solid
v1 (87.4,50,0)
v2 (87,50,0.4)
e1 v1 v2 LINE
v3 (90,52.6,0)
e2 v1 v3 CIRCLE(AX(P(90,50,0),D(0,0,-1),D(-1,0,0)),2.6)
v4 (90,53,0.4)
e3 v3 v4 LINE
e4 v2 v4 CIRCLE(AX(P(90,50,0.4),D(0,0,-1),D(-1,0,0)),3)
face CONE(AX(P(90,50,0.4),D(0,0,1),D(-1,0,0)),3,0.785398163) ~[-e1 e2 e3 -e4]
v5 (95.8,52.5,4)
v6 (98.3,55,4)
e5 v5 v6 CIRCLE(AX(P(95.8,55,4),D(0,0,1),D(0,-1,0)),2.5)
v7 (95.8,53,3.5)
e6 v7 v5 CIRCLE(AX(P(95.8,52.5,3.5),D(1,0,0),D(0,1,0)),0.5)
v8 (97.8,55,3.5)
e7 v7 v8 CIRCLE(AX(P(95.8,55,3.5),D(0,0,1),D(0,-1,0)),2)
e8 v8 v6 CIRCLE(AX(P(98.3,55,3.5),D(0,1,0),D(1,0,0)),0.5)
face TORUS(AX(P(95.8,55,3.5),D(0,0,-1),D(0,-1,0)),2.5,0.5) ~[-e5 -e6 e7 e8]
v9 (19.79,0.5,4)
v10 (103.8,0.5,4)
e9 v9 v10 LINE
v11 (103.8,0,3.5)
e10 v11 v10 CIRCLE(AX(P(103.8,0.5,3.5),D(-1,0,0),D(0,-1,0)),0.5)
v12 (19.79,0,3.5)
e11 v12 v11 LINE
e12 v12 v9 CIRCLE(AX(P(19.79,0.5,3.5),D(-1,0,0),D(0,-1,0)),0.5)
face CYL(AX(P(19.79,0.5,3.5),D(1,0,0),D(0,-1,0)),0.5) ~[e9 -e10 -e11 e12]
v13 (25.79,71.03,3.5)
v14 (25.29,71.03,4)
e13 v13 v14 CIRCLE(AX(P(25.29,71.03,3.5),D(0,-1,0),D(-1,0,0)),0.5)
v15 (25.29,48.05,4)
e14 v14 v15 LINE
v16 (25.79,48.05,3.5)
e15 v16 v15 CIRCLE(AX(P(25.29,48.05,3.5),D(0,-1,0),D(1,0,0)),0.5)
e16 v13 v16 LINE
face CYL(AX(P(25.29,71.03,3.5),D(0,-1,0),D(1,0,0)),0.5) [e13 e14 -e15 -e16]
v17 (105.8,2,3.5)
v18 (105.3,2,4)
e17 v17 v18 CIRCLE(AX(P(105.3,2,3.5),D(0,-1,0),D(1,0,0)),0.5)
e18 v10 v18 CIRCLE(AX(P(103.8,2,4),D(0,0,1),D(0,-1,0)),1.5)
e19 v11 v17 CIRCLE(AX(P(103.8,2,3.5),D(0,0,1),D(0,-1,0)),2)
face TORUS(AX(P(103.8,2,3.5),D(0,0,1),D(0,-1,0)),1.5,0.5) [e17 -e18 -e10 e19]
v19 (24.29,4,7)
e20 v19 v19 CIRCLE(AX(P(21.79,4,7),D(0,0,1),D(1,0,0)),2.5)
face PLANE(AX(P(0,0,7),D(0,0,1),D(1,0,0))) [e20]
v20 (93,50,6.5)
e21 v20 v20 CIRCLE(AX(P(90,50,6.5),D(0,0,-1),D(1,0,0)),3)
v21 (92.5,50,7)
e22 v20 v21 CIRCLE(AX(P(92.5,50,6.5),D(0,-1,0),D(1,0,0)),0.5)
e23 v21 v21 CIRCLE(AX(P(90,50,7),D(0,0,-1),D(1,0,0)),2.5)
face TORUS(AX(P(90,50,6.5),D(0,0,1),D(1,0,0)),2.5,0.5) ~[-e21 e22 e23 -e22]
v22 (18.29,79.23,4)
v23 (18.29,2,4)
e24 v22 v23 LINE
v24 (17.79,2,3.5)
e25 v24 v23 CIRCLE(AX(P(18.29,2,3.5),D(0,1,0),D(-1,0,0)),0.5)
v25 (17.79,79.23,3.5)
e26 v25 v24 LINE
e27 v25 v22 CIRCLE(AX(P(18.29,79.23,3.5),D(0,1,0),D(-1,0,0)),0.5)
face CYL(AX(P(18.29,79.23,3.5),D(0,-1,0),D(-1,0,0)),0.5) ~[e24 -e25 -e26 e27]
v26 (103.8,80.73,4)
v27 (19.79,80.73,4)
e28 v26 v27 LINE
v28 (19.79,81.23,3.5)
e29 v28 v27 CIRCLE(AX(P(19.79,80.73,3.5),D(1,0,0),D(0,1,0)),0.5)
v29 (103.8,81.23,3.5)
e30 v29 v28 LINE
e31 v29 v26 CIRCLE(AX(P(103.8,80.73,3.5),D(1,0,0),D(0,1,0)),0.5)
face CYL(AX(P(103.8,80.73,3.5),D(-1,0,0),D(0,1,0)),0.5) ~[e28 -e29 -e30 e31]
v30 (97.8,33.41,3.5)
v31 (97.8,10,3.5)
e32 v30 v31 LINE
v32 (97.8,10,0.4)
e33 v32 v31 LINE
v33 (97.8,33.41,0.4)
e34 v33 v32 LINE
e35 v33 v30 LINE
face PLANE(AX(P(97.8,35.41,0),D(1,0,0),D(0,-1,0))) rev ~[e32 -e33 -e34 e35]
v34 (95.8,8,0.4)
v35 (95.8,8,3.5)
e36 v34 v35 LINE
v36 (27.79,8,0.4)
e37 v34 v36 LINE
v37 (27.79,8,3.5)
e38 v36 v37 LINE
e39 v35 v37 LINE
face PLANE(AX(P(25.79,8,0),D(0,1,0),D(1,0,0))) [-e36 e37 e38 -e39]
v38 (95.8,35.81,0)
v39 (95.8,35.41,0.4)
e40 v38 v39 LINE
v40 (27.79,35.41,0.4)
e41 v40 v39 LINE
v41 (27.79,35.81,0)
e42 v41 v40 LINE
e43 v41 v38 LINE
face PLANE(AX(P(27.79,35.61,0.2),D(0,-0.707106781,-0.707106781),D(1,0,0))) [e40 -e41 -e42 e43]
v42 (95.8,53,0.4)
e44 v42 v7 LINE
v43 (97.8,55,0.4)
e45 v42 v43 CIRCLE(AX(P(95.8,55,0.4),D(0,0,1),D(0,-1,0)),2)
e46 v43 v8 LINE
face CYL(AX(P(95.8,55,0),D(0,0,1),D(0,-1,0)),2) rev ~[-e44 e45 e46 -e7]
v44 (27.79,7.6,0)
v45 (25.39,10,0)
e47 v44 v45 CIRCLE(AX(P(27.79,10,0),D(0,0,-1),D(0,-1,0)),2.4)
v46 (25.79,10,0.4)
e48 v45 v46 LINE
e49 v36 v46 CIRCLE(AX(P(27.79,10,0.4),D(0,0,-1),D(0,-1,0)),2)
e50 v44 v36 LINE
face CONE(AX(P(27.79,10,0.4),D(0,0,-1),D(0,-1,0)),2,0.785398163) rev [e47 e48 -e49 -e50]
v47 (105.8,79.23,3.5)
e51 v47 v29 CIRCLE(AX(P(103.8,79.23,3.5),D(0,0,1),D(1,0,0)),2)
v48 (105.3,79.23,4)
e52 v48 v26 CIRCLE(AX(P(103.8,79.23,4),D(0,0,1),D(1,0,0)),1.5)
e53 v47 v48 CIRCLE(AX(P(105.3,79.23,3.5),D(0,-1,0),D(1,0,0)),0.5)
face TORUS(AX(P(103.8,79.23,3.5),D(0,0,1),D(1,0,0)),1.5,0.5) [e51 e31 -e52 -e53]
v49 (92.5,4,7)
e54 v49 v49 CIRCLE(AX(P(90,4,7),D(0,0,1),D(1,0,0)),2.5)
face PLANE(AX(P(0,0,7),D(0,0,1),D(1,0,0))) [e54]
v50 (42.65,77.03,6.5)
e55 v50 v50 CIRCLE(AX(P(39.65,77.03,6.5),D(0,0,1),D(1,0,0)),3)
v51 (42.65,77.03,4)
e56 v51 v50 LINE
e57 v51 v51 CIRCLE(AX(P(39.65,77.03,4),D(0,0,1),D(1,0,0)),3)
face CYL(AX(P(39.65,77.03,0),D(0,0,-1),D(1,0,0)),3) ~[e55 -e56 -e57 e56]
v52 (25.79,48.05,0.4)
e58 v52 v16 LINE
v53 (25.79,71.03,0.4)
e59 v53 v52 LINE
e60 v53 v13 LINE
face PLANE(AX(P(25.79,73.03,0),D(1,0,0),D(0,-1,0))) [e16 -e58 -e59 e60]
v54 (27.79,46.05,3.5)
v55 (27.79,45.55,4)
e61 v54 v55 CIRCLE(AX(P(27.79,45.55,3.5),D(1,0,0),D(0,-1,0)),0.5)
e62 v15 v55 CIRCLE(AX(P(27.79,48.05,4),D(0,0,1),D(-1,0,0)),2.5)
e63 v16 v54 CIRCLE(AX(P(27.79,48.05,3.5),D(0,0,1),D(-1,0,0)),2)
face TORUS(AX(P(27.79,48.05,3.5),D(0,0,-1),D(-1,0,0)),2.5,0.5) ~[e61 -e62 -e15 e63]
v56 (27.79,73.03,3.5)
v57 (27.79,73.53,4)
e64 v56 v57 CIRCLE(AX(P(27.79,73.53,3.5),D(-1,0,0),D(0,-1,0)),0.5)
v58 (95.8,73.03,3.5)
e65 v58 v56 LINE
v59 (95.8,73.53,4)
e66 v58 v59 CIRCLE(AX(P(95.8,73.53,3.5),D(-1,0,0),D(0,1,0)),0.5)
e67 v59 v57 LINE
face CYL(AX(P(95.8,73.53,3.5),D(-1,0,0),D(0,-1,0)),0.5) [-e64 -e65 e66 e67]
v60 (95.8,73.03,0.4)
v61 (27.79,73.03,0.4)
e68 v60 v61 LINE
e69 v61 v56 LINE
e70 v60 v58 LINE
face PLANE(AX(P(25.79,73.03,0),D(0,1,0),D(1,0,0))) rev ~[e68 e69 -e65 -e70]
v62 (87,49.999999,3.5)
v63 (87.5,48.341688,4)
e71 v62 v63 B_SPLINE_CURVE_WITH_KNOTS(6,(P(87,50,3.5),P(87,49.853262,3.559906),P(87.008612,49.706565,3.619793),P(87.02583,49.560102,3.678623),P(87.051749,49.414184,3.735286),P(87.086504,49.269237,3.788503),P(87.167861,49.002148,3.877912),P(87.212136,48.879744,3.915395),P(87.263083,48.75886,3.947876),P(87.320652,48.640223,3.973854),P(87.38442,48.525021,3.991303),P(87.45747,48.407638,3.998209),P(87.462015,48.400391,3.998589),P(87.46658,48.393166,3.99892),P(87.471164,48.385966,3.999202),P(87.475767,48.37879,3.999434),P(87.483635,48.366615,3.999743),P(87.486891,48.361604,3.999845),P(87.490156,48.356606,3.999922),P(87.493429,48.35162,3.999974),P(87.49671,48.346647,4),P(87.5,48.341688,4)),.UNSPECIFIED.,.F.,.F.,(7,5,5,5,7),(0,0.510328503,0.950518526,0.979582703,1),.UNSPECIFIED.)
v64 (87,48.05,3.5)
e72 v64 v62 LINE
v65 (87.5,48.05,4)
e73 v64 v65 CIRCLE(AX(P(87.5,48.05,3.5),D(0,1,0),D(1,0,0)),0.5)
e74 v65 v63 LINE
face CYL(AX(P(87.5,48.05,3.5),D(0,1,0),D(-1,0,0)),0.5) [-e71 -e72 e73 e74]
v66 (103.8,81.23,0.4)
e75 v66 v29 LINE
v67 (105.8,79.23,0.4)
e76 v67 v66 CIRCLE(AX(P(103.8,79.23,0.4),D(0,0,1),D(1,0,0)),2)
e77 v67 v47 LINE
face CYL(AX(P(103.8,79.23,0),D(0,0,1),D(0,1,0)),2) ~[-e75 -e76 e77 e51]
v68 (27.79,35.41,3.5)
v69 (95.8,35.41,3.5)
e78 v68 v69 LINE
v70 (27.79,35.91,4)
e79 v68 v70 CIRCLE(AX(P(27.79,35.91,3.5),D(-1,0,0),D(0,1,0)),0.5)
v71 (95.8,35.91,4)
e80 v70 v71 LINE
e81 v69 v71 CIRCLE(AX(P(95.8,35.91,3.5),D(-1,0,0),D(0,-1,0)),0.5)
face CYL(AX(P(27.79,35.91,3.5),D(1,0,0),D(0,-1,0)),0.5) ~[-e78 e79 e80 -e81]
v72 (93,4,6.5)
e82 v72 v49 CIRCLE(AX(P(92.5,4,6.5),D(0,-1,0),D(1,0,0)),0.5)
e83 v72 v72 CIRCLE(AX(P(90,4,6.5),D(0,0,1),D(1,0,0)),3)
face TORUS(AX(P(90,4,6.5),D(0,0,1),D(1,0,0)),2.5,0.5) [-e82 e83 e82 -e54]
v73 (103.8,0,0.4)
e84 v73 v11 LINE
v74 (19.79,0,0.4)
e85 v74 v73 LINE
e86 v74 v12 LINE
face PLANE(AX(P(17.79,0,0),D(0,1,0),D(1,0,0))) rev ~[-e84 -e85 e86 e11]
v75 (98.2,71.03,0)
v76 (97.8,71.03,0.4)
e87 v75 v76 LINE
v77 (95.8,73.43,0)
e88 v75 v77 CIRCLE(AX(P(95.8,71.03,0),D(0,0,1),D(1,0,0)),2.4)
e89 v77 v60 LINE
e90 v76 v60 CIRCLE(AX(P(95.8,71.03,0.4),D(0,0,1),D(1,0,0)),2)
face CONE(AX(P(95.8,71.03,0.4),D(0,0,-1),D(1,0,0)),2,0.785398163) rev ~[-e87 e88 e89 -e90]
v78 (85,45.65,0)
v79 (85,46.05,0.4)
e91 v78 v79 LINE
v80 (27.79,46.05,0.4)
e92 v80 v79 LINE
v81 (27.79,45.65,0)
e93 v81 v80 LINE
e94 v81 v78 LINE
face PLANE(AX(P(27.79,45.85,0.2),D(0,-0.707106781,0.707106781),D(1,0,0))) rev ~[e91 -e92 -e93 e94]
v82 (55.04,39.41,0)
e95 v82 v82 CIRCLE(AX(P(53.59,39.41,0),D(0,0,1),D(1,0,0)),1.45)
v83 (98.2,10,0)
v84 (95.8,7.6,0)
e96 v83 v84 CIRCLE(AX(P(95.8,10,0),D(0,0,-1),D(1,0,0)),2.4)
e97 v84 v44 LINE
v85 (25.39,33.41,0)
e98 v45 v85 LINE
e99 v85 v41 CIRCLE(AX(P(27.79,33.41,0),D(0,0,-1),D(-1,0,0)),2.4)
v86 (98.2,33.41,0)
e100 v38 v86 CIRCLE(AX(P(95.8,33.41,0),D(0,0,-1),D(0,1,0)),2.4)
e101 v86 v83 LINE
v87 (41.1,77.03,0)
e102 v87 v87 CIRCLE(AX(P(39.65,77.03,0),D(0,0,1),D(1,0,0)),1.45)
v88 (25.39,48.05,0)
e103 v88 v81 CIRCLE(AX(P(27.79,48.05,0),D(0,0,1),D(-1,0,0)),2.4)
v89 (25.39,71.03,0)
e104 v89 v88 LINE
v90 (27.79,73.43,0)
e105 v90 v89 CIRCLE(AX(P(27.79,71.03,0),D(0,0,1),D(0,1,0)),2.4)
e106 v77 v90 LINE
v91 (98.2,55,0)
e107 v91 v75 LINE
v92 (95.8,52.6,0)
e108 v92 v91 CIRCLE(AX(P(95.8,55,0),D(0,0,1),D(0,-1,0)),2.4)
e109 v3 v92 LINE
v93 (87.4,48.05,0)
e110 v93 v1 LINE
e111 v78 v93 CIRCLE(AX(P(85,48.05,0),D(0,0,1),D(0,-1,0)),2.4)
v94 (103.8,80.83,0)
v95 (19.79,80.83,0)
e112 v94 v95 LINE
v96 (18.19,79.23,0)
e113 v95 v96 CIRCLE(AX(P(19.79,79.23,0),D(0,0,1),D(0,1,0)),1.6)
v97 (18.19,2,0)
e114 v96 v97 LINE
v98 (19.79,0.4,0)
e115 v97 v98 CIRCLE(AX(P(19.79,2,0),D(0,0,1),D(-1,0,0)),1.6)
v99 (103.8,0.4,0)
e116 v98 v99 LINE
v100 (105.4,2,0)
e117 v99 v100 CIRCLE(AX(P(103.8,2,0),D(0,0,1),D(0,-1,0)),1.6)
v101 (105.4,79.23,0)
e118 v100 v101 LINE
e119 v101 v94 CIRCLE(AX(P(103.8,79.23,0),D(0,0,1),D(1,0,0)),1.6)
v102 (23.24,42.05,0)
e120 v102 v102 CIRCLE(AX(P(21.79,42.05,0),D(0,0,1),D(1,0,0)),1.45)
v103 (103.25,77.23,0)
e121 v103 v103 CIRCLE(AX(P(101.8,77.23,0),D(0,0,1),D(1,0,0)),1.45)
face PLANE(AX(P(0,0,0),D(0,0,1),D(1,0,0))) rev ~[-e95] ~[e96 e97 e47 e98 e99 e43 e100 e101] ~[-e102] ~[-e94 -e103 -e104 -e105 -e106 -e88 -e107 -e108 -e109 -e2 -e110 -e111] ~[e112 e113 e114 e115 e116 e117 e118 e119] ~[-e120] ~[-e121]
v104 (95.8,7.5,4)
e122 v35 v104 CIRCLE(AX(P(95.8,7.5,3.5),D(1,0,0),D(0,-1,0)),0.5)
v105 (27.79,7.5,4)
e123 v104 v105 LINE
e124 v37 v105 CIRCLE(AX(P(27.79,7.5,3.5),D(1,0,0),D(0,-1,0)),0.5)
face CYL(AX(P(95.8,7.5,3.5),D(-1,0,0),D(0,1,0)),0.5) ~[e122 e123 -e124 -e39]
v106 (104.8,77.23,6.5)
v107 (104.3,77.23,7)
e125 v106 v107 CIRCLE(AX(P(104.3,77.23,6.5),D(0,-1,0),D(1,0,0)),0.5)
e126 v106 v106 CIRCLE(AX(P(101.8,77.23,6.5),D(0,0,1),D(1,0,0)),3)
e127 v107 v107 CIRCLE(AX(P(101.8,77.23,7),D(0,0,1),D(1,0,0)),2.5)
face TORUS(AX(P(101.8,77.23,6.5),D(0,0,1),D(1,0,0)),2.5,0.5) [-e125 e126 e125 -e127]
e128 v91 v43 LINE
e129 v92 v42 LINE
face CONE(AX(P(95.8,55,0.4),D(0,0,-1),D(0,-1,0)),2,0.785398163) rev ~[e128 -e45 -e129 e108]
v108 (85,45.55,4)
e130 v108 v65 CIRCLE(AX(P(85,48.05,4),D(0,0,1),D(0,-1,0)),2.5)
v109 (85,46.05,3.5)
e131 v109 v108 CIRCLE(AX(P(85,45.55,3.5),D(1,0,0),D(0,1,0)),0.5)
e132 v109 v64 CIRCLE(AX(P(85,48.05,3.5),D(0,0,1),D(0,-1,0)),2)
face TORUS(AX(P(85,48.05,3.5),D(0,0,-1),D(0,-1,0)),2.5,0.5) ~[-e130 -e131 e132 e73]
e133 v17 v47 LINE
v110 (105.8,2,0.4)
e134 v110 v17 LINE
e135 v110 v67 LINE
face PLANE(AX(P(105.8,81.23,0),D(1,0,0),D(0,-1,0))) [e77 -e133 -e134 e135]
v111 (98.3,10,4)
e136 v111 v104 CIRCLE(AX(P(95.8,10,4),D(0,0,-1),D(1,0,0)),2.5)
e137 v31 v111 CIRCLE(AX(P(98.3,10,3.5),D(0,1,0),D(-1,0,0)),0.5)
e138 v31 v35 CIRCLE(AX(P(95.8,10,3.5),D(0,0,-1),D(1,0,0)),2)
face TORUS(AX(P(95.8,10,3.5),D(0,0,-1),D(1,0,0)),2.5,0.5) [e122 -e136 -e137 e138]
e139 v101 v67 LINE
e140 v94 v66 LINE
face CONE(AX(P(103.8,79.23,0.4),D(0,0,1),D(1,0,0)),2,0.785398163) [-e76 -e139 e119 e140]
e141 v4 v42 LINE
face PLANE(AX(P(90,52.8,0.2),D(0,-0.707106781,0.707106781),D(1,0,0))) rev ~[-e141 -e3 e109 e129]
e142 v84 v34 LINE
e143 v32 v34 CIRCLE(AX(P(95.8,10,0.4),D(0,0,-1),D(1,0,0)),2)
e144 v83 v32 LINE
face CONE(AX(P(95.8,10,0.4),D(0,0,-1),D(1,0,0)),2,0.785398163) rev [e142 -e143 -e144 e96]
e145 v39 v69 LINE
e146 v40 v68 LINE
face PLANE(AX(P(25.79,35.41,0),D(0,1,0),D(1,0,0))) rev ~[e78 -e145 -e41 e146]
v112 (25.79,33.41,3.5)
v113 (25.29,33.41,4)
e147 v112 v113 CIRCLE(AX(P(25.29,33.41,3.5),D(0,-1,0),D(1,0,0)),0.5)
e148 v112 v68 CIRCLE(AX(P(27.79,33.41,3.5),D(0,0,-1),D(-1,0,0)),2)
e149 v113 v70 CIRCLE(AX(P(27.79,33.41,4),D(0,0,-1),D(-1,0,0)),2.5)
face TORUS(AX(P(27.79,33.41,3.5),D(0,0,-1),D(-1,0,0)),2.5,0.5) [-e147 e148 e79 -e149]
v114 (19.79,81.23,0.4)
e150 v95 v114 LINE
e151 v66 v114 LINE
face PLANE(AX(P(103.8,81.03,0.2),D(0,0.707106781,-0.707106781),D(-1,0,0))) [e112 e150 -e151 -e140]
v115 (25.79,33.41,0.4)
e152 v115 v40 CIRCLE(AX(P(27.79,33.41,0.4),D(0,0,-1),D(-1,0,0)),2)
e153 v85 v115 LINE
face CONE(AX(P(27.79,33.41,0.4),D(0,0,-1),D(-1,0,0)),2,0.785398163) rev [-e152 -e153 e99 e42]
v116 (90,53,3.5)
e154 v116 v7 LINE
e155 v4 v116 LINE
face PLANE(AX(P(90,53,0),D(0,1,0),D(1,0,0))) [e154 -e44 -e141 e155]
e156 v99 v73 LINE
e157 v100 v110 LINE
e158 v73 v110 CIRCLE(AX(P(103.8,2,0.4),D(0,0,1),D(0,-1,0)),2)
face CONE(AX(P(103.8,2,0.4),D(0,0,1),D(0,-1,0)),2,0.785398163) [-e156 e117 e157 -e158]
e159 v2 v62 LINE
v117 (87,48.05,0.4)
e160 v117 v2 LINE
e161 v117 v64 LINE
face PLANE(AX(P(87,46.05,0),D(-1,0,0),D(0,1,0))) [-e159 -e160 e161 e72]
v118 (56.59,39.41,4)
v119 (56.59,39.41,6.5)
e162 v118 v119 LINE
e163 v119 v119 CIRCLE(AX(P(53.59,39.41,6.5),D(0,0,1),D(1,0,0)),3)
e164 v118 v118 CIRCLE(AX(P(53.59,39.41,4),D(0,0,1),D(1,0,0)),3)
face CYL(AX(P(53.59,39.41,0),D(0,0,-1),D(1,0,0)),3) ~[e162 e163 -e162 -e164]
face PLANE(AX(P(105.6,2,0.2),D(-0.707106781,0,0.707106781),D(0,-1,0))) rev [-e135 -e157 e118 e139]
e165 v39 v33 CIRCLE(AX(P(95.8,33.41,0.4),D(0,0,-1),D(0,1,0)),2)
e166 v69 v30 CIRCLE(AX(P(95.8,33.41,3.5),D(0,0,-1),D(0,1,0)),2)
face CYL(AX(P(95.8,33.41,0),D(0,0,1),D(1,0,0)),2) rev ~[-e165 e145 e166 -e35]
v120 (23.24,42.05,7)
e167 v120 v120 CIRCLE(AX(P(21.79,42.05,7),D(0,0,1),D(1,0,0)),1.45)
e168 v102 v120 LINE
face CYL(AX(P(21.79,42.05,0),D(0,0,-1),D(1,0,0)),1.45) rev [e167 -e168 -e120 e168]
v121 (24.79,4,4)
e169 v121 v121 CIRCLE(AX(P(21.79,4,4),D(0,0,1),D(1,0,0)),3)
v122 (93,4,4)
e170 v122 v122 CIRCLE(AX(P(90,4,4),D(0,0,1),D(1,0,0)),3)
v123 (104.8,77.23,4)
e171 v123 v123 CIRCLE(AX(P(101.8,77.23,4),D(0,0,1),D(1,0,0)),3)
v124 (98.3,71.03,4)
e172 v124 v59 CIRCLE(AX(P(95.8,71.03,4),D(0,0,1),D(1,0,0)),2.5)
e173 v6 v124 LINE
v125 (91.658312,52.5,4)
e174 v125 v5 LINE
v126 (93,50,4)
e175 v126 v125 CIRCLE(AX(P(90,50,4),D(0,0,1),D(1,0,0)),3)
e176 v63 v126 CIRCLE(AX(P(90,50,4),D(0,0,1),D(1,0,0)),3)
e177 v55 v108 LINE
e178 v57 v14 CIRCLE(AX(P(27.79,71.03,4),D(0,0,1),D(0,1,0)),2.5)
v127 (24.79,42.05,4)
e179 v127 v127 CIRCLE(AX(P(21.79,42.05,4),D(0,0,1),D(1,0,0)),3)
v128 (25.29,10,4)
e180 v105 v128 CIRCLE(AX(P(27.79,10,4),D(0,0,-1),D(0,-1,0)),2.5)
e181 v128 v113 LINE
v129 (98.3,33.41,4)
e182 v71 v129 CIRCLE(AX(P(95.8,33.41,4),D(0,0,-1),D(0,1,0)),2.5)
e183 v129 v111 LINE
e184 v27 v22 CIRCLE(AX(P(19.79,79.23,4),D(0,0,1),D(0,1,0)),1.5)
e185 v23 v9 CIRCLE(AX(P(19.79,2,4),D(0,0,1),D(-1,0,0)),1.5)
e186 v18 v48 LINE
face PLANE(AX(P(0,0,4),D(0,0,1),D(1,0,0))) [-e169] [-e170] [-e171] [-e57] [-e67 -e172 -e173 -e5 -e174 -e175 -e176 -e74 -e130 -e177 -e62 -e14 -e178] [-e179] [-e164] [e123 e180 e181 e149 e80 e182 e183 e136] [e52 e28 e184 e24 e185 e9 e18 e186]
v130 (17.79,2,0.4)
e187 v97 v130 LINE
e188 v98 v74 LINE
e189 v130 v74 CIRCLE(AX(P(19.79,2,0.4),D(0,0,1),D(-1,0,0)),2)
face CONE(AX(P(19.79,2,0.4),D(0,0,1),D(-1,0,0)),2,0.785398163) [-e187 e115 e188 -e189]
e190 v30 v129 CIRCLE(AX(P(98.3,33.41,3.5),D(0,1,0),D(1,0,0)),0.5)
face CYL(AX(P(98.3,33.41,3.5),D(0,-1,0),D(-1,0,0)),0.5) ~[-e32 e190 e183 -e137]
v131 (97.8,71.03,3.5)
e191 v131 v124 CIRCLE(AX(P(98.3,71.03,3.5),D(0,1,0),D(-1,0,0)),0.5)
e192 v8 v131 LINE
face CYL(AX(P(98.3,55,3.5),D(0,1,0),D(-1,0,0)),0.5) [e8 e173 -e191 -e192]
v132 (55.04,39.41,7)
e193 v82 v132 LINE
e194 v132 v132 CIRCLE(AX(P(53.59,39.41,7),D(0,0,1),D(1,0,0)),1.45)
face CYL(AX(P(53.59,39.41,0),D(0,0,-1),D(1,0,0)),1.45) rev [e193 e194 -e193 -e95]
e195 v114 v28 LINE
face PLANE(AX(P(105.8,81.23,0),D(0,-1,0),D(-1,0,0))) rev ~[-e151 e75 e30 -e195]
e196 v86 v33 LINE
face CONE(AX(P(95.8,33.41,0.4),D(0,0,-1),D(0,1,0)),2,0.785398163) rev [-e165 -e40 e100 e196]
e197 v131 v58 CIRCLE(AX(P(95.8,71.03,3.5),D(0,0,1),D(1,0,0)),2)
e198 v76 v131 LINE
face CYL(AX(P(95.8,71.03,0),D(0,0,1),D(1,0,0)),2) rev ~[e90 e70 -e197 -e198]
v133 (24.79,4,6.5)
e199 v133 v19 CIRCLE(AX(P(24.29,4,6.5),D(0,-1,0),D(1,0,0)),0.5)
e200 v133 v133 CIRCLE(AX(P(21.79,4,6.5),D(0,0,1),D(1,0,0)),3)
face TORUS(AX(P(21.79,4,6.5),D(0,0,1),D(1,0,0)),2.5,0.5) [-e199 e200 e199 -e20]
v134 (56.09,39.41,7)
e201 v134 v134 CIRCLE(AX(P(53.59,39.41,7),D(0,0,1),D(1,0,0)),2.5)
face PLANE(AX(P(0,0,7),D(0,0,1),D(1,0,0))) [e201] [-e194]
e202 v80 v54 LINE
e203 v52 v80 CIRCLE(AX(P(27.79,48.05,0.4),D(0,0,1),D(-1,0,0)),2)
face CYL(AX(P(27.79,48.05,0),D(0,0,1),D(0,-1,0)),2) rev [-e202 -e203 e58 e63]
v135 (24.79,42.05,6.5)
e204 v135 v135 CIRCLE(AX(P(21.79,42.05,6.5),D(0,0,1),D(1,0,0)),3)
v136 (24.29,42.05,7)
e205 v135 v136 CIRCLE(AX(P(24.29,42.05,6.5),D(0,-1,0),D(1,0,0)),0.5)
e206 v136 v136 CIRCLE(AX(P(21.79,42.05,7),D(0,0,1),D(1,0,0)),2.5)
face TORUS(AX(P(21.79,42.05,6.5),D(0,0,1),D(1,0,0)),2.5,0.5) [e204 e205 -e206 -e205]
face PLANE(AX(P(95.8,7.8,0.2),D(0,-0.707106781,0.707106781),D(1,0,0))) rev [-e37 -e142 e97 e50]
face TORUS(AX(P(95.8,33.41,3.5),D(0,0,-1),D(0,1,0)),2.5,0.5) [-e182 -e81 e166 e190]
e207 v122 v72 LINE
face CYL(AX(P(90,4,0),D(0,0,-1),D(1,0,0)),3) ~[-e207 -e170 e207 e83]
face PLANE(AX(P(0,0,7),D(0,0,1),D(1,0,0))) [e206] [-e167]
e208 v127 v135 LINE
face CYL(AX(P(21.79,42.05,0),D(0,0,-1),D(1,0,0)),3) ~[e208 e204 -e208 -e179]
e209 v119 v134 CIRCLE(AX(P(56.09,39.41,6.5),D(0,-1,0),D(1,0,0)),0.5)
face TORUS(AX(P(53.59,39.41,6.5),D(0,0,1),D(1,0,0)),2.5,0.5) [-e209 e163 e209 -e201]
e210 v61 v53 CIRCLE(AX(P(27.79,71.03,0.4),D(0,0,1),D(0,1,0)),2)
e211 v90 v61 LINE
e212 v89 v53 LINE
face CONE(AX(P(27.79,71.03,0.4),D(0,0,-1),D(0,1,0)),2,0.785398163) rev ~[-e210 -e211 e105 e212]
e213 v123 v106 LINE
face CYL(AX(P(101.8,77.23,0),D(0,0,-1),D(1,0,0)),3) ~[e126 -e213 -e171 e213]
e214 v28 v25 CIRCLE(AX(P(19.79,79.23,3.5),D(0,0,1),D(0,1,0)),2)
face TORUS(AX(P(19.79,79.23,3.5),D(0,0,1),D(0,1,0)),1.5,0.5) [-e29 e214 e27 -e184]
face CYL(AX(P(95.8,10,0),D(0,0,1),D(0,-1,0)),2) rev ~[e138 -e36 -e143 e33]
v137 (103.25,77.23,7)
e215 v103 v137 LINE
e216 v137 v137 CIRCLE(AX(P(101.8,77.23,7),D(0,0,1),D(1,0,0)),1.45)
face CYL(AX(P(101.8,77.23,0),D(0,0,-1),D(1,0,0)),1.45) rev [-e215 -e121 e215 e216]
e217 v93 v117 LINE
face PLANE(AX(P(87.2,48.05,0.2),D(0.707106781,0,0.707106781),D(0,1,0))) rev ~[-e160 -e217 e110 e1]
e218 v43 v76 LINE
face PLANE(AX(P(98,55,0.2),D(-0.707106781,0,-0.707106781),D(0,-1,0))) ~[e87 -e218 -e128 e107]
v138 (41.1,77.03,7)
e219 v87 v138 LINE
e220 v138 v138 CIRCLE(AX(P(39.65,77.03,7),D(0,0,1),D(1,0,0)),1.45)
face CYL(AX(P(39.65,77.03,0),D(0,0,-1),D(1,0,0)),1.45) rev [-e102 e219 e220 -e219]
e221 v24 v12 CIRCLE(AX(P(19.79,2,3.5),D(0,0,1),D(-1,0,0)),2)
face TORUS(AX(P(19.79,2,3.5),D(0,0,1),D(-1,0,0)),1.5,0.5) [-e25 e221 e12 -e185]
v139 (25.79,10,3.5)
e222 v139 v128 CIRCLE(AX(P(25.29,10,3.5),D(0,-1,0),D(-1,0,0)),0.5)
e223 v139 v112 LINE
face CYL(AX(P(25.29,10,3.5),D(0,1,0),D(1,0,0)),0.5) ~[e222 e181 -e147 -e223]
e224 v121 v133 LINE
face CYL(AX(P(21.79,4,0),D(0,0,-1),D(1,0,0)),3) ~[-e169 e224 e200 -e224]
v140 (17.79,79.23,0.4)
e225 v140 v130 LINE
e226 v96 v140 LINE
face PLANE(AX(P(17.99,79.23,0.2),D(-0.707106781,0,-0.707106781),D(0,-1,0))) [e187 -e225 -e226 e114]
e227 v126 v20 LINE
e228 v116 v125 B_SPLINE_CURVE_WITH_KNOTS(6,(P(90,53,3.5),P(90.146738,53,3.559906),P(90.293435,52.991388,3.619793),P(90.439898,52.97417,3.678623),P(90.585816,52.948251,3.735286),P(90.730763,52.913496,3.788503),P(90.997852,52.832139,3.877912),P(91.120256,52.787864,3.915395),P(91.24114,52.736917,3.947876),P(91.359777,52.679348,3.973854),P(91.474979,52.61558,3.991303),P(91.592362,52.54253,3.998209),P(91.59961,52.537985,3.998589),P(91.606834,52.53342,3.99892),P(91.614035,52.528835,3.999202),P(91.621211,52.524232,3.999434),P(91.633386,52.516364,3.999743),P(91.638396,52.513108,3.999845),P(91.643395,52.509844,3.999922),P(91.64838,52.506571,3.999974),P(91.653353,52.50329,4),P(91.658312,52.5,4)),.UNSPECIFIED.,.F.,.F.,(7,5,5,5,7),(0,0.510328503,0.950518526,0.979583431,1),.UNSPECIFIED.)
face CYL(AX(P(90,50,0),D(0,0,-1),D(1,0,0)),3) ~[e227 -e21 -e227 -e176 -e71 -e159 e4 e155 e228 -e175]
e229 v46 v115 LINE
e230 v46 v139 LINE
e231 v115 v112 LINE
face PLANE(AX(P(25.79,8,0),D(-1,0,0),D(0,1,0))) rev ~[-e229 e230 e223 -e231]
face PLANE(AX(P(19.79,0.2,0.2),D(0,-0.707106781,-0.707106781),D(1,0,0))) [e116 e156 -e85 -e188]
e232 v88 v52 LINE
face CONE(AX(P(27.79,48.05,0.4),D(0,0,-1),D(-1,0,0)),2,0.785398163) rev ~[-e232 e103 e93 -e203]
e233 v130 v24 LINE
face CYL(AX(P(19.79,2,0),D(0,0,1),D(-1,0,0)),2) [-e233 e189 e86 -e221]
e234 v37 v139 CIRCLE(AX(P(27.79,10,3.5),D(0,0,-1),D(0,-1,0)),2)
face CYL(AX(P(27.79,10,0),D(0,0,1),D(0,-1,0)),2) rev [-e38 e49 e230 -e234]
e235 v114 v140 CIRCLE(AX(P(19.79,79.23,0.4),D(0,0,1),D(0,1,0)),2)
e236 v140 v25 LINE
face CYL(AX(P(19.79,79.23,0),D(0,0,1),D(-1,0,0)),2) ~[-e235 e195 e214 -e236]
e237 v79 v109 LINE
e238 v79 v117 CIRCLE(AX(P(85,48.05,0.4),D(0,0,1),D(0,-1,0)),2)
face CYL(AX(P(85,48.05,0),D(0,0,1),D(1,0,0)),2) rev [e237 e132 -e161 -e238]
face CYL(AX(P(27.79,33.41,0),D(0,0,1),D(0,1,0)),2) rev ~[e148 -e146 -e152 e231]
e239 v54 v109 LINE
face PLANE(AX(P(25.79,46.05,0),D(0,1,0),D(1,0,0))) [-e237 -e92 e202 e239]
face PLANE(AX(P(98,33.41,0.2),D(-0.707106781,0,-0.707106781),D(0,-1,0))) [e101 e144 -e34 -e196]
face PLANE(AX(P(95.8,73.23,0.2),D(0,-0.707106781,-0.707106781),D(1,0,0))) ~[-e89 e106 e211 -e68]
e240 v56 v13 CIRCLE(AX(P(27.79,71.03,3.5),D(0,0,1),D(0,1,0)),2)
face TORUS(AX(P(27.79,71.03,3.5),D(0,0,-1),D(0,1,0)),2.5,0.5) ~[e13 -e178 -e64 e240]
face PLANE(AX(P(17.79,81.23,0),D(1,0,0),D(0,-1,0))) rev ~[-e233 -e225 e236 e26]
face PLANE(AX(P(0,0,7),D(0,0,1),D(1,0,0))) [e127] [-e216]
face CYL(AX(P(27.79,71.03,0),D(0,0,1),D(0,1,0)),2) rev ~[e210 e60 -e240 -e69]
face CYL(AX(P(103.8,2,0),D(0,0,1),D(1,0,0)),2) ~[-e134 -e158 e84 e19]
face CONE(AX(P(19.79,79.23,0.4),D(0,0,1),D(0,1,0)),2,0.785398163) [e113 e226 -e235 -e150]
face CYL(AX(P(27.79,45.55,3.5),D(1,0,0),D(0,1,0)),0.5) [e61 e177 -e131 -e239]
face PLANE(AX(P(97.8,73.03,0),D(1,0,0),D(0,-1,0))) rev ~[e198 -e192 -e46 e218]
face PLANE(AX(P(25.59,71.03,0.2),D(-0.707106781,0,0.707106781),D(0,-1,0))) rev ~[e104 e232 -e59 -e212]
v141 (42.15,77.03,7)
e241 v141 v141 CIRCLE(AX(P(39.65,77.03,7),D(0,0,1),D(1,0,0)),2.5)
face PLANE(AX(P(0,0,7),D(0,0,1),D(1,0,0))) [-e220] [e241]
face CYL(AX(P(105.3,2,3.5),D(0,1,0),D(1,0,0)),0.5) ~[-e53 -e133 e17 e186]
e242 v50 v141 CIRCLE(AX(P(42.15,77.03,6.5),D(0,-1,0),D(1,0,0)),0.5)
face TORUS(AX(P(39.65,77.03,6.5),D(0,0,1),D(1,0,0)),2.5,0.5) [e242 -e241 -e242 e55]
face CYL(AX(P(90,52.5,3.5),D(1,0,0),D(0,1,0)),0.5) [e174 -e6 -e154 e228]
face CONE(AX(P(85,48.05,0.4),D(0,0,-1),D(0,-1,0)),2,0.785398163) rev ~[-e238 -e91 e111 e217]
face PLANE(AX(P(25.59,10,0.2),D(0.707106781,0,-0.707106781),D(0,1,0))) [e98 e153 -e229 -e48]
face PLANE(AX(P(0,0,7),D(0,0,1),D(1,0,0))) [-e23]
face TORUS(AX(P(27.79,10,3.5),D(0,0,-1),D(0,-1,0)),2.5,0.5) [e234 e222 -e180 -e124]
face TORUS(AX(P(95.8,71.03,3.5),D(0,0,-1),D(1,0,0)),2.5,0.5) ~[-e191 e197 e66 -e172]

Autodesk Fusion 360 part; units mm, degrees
sketch "Sketch1" plane through (0, 0, 0) normal (0, 0, 1) x (1, 0, 0)
  line L0 (0, 0) -> (120, 0)
  line L1 (120, 0) -> (120, 90.8)
  line L2 (120, 90.8) -> (0, 90.8)
  line L3 (0, 90.8) -> (0, 0)
  circle A0 centre (101.8, 77.23) radius 3
  circle A1 centre (39.65, 77.03) radius 3
  circle A2 centre (21.79, 42.05) radius 3
  circle A3 centre (53.59, 39.41) radius 3
  circle A4 centre (21.79, 4) radius 3
  circle A5 centre (90, 4) radius 3
  circle A6 centre (90, 50) radius 3
  circle A7 centre (21.79, 42.05) radius 1.45
  circle A8 centre (53.59, 39.41) radius 1.45
  circle A9 centre (39.65, 77.03) radius 1.45
  circle A10 centre (101.8, 77.23) radius 1.45
  line L4 (17.79, 0) -> (17.79, 90.8) construction
  line L5 (0, 81.23) -> (120, 81.23) construction
  line L6 (105.8, 90.8) -> (105.8, 0) construction
  line L7 (0, 35.41) -> (120, 35.41) construction
  line L8 (0, 46.05) -> (120, 46.05) construction
  line L9 (90, 90.8) -> (90, 0) construction
  line L10 (97.8, 90.8) -> (97.8, 0) construction
  line L11 (90, 53) -> (97.8, 53)
  line L12 (0, 73.03) -> (120, 73.03) construction
  line L13 (97.8, 73.03) -> (97.8, 53)
  line L14 (25.79, 90.8) -> (25.79, 0) construction
  line L15 (25.79, 73.03) -> (97.8, 73.03)
  line L16 (105.8, 81.23) -> (105.8, 0)
  line L17 (105.8, 81.23) -> (17.79, 81.23)
  line L18 (17.79, 81.23) -> (17.79, 0)
  line L19 (25.79, 73.03) -> (25.79, 46.05)
  line L20 (87, 90.8) -> (87, 0) construction
  line L21 (25.79, 8) -> (97.8, 8)
  line L22 (25.79, 8) -> (25.79, 35.41)
  line L23 (25.79, 35.41) -> (97.8, 35.41)
  line L24 (97.8, 35.41) -> (97.8, 8)
  line L25 (25.79, 46.05) -> (87, 46.05)
  line L26 (87, 46.05) -> (87, 50)
  dimension "d1" = 120
  dimension "d2" = 90.8
  dimension "d3" = 6
  dimension "d4" = 101.8
  dimension "d5" = 77.23
  dimension "d9" = 39.65
  dimension "d10" = 77.03
  dimension "d11" = 42.05
  dimension "d12" = 21.79
  dimension "d13" = 53.59
  dimension "d14" = 39.41
  dimension "d17" = 21.79
  dimension "d18" = 4
  dimension "d20" = 30
  dimension "d21" = 4
  dimension "d23" = 30
  dimension "d24" = 50
  dimension "d30" = 2.9
  dimension "d31" = 2.9
  dimension "d32" = 6
  dimension "d33" = 6
  dimension "d34" = 2.9
  dimension "d35" = 6
  dimension "d36" = 6
  dimension "d37" = 6
  dimension "d38" = 6
  dimension "d39" = 2.9
  dimension "d53" = 4
  dimension "d54" = 4
  dimension "d55" = 4
  dimension "d56" = 4
  dimension "d57" = 4
  dimension "d58" = 4
  dimension "d59" = 4
  dimension "d60" = 4
  dimension "d61" = 4
extrude "Extrude4" add sketch "Sketch1" along normal blind 7 contours A0 | A1 | A2 | A3 | A4 | A5 | A6 makes body 1 at (90.8125, 52.8879, 2.3333) makes body 2 at (42.2847, 78.4648, 2.3333) makes body 3 at (50.6049, 39.1113, 4.6667) makes body 4 at (24.7751, 3.7013, 4.6667) makes body 5 at (102.7555, 80.0738, 4.6667) makes body 6 at (18.8049, 41.7513, 4.6667) makes body 7 at (90.9555, 6.8438, 4.6667)
extrude "Extrude6" add sketch "Sketch1" along normal blind 4 contours L0 L16 L17 L18 bodies 1 2 3 4 5 6 7
fillet "Fillet3" radius 2 13 edges at (97.8, 73.03, 2) (97.8, 35.41, 2) (17.79, 0, 2) (105.8, 0, 2) (17.79, 81.23, 2) (25.79, 73.03, 2) (105.8, 81.23, 2) (25.79, 35.41, 2) (25.79, 8, 2) (25.79, 46.05, 2) (97.8, 8, 2) (87, 46.05, 2) (97.8, 53, 2) on bodies 1
fillet "Fillet4" radius 0.5 27 edges at (87, 49.025, 4) (86.4142, 46.6358, 4) (56.395, 46.05, 4) (26.3758, 46.6358, 4) (25.79, 59.54, 4) (26.3758, 72.4442, 4) (61.795, 73.03, 4) (97.2142, 72.4442, 4) (97.8, 63.015, 4) (97.2142, 53.5858, 4) (92.9, 53, 4) (26.3758, 8.5858, 4) (61.795, 8, 4) (97.2142, 8.5858, 4) (97.8, 21.705, 4) (97.2142, 34.8242, 4) (61.795, 35.41, 4) (26.3758, 34.8242, 4) (25.79, 21.705, 4) (18.3758, 0.5858, 4) (61.795, 0, 4) (105.2142, 0.5858, 4) (105.8, 40.615, 4) (105.2142, 80.6442, 4) (61.795, 81.23, 4) (18.3758, 80.6442, 4) (17.79, 40.615, 4) on bodies 1
fillet "Fillet5" radius 0.5 7 edges at (87.203, 2.9152, 7) (18.993, 2.9152, 7) (18.993, 40.9652, 7) (50.793, 38.3252, 7) (87.203, 48.9152, 7) (99.003, 76.1452, 7) (36.853, 75.9452, 7) on bodies 1 2 3 4 5 6 7
chamfer "Chamfer1" distance 0.4 angle 45 28 edges at (61.795, 0, 0) (105.2142, 0.5858, 0) (105.8, 40.615, 0) (105.2142, 80.6442, 0) (61.795, 81.23, 0) (18.3758, 80.6442, 0) (17.79, 40.615, 0) (18.3758, 0.5858, 0) (56.395, 46.05, 0) (26.3758, 46.6358, 0) (25.79, 59.54, 0) (26.3758, 72.4442, 0) (61.795, 73.03, 0) (97.2142, 72.4442, 0) (97.8, 63.015, 0) (97.2142, 53.5858, 0) (92.9, 53, 0) (87.8787, 52.1213, 0) (87, 49.025, 0) (86.4142, 46.6358, 0) (61.795, 35.41, 0) (97.2142, 34.8242, 0) (97.8, 21.705, 0) (97.2142, 8.5858, 0) (61.795, 8, 0) (26.3758, 8.5858, 0) (25.79, 21.705, 0) (26.3758, 34.8242, 0) on bodies 1
equation "d3 = SupportPostDiameter"
equation "SupportPostDiameter = 6 mm"
equation "M3_PlasticThreads = 2.9 mm"
equation "SupportPostHeight = 7 mm"
equation "d30 = M3_PlasticThreads"
equation "d31 = M3_PlasticThreads"
equation "d32 = SupportPostDiameter"
equation "d33 = SupportPostDiameter"
equation "d34 = M3_PlasticThreads"
equation "d35 = SupportPostDiameter"
equation "d36 = SupportPostDiameter"
equation "d37 = SupportPostDiameter"
equation "d38 = SupportPostDiameter"
equation "d39 = M3_PlasticThreads"
equation "BaseHight = 4 mm"
equation "d53 = SupportPostDiameter / 2 + 1 mm"
equation "d54 = SupportPostDiameter / 2 + 1 mm"
equation "d55 = SupportPostDiameter / 2 + 1 mm"
equation "d56 = SupportPostDiameter / 2 + 1 mm"
equation "d57 = SupportPostDiameter / 2 + 1 mm"
equation "d58 = SupportPostDiameter / 2 + 1 mm"
equation "d59 = SupportPostDiameter / 2 + 1 mm"
equation "d60 = SupportPostDiameter / 2 + 1 mm"
equation "d61 = SupportPostDiameter / 2 + 1 mm"
equation "d62 = SupportPostHeight"
equation "d66 = BaseHight"
